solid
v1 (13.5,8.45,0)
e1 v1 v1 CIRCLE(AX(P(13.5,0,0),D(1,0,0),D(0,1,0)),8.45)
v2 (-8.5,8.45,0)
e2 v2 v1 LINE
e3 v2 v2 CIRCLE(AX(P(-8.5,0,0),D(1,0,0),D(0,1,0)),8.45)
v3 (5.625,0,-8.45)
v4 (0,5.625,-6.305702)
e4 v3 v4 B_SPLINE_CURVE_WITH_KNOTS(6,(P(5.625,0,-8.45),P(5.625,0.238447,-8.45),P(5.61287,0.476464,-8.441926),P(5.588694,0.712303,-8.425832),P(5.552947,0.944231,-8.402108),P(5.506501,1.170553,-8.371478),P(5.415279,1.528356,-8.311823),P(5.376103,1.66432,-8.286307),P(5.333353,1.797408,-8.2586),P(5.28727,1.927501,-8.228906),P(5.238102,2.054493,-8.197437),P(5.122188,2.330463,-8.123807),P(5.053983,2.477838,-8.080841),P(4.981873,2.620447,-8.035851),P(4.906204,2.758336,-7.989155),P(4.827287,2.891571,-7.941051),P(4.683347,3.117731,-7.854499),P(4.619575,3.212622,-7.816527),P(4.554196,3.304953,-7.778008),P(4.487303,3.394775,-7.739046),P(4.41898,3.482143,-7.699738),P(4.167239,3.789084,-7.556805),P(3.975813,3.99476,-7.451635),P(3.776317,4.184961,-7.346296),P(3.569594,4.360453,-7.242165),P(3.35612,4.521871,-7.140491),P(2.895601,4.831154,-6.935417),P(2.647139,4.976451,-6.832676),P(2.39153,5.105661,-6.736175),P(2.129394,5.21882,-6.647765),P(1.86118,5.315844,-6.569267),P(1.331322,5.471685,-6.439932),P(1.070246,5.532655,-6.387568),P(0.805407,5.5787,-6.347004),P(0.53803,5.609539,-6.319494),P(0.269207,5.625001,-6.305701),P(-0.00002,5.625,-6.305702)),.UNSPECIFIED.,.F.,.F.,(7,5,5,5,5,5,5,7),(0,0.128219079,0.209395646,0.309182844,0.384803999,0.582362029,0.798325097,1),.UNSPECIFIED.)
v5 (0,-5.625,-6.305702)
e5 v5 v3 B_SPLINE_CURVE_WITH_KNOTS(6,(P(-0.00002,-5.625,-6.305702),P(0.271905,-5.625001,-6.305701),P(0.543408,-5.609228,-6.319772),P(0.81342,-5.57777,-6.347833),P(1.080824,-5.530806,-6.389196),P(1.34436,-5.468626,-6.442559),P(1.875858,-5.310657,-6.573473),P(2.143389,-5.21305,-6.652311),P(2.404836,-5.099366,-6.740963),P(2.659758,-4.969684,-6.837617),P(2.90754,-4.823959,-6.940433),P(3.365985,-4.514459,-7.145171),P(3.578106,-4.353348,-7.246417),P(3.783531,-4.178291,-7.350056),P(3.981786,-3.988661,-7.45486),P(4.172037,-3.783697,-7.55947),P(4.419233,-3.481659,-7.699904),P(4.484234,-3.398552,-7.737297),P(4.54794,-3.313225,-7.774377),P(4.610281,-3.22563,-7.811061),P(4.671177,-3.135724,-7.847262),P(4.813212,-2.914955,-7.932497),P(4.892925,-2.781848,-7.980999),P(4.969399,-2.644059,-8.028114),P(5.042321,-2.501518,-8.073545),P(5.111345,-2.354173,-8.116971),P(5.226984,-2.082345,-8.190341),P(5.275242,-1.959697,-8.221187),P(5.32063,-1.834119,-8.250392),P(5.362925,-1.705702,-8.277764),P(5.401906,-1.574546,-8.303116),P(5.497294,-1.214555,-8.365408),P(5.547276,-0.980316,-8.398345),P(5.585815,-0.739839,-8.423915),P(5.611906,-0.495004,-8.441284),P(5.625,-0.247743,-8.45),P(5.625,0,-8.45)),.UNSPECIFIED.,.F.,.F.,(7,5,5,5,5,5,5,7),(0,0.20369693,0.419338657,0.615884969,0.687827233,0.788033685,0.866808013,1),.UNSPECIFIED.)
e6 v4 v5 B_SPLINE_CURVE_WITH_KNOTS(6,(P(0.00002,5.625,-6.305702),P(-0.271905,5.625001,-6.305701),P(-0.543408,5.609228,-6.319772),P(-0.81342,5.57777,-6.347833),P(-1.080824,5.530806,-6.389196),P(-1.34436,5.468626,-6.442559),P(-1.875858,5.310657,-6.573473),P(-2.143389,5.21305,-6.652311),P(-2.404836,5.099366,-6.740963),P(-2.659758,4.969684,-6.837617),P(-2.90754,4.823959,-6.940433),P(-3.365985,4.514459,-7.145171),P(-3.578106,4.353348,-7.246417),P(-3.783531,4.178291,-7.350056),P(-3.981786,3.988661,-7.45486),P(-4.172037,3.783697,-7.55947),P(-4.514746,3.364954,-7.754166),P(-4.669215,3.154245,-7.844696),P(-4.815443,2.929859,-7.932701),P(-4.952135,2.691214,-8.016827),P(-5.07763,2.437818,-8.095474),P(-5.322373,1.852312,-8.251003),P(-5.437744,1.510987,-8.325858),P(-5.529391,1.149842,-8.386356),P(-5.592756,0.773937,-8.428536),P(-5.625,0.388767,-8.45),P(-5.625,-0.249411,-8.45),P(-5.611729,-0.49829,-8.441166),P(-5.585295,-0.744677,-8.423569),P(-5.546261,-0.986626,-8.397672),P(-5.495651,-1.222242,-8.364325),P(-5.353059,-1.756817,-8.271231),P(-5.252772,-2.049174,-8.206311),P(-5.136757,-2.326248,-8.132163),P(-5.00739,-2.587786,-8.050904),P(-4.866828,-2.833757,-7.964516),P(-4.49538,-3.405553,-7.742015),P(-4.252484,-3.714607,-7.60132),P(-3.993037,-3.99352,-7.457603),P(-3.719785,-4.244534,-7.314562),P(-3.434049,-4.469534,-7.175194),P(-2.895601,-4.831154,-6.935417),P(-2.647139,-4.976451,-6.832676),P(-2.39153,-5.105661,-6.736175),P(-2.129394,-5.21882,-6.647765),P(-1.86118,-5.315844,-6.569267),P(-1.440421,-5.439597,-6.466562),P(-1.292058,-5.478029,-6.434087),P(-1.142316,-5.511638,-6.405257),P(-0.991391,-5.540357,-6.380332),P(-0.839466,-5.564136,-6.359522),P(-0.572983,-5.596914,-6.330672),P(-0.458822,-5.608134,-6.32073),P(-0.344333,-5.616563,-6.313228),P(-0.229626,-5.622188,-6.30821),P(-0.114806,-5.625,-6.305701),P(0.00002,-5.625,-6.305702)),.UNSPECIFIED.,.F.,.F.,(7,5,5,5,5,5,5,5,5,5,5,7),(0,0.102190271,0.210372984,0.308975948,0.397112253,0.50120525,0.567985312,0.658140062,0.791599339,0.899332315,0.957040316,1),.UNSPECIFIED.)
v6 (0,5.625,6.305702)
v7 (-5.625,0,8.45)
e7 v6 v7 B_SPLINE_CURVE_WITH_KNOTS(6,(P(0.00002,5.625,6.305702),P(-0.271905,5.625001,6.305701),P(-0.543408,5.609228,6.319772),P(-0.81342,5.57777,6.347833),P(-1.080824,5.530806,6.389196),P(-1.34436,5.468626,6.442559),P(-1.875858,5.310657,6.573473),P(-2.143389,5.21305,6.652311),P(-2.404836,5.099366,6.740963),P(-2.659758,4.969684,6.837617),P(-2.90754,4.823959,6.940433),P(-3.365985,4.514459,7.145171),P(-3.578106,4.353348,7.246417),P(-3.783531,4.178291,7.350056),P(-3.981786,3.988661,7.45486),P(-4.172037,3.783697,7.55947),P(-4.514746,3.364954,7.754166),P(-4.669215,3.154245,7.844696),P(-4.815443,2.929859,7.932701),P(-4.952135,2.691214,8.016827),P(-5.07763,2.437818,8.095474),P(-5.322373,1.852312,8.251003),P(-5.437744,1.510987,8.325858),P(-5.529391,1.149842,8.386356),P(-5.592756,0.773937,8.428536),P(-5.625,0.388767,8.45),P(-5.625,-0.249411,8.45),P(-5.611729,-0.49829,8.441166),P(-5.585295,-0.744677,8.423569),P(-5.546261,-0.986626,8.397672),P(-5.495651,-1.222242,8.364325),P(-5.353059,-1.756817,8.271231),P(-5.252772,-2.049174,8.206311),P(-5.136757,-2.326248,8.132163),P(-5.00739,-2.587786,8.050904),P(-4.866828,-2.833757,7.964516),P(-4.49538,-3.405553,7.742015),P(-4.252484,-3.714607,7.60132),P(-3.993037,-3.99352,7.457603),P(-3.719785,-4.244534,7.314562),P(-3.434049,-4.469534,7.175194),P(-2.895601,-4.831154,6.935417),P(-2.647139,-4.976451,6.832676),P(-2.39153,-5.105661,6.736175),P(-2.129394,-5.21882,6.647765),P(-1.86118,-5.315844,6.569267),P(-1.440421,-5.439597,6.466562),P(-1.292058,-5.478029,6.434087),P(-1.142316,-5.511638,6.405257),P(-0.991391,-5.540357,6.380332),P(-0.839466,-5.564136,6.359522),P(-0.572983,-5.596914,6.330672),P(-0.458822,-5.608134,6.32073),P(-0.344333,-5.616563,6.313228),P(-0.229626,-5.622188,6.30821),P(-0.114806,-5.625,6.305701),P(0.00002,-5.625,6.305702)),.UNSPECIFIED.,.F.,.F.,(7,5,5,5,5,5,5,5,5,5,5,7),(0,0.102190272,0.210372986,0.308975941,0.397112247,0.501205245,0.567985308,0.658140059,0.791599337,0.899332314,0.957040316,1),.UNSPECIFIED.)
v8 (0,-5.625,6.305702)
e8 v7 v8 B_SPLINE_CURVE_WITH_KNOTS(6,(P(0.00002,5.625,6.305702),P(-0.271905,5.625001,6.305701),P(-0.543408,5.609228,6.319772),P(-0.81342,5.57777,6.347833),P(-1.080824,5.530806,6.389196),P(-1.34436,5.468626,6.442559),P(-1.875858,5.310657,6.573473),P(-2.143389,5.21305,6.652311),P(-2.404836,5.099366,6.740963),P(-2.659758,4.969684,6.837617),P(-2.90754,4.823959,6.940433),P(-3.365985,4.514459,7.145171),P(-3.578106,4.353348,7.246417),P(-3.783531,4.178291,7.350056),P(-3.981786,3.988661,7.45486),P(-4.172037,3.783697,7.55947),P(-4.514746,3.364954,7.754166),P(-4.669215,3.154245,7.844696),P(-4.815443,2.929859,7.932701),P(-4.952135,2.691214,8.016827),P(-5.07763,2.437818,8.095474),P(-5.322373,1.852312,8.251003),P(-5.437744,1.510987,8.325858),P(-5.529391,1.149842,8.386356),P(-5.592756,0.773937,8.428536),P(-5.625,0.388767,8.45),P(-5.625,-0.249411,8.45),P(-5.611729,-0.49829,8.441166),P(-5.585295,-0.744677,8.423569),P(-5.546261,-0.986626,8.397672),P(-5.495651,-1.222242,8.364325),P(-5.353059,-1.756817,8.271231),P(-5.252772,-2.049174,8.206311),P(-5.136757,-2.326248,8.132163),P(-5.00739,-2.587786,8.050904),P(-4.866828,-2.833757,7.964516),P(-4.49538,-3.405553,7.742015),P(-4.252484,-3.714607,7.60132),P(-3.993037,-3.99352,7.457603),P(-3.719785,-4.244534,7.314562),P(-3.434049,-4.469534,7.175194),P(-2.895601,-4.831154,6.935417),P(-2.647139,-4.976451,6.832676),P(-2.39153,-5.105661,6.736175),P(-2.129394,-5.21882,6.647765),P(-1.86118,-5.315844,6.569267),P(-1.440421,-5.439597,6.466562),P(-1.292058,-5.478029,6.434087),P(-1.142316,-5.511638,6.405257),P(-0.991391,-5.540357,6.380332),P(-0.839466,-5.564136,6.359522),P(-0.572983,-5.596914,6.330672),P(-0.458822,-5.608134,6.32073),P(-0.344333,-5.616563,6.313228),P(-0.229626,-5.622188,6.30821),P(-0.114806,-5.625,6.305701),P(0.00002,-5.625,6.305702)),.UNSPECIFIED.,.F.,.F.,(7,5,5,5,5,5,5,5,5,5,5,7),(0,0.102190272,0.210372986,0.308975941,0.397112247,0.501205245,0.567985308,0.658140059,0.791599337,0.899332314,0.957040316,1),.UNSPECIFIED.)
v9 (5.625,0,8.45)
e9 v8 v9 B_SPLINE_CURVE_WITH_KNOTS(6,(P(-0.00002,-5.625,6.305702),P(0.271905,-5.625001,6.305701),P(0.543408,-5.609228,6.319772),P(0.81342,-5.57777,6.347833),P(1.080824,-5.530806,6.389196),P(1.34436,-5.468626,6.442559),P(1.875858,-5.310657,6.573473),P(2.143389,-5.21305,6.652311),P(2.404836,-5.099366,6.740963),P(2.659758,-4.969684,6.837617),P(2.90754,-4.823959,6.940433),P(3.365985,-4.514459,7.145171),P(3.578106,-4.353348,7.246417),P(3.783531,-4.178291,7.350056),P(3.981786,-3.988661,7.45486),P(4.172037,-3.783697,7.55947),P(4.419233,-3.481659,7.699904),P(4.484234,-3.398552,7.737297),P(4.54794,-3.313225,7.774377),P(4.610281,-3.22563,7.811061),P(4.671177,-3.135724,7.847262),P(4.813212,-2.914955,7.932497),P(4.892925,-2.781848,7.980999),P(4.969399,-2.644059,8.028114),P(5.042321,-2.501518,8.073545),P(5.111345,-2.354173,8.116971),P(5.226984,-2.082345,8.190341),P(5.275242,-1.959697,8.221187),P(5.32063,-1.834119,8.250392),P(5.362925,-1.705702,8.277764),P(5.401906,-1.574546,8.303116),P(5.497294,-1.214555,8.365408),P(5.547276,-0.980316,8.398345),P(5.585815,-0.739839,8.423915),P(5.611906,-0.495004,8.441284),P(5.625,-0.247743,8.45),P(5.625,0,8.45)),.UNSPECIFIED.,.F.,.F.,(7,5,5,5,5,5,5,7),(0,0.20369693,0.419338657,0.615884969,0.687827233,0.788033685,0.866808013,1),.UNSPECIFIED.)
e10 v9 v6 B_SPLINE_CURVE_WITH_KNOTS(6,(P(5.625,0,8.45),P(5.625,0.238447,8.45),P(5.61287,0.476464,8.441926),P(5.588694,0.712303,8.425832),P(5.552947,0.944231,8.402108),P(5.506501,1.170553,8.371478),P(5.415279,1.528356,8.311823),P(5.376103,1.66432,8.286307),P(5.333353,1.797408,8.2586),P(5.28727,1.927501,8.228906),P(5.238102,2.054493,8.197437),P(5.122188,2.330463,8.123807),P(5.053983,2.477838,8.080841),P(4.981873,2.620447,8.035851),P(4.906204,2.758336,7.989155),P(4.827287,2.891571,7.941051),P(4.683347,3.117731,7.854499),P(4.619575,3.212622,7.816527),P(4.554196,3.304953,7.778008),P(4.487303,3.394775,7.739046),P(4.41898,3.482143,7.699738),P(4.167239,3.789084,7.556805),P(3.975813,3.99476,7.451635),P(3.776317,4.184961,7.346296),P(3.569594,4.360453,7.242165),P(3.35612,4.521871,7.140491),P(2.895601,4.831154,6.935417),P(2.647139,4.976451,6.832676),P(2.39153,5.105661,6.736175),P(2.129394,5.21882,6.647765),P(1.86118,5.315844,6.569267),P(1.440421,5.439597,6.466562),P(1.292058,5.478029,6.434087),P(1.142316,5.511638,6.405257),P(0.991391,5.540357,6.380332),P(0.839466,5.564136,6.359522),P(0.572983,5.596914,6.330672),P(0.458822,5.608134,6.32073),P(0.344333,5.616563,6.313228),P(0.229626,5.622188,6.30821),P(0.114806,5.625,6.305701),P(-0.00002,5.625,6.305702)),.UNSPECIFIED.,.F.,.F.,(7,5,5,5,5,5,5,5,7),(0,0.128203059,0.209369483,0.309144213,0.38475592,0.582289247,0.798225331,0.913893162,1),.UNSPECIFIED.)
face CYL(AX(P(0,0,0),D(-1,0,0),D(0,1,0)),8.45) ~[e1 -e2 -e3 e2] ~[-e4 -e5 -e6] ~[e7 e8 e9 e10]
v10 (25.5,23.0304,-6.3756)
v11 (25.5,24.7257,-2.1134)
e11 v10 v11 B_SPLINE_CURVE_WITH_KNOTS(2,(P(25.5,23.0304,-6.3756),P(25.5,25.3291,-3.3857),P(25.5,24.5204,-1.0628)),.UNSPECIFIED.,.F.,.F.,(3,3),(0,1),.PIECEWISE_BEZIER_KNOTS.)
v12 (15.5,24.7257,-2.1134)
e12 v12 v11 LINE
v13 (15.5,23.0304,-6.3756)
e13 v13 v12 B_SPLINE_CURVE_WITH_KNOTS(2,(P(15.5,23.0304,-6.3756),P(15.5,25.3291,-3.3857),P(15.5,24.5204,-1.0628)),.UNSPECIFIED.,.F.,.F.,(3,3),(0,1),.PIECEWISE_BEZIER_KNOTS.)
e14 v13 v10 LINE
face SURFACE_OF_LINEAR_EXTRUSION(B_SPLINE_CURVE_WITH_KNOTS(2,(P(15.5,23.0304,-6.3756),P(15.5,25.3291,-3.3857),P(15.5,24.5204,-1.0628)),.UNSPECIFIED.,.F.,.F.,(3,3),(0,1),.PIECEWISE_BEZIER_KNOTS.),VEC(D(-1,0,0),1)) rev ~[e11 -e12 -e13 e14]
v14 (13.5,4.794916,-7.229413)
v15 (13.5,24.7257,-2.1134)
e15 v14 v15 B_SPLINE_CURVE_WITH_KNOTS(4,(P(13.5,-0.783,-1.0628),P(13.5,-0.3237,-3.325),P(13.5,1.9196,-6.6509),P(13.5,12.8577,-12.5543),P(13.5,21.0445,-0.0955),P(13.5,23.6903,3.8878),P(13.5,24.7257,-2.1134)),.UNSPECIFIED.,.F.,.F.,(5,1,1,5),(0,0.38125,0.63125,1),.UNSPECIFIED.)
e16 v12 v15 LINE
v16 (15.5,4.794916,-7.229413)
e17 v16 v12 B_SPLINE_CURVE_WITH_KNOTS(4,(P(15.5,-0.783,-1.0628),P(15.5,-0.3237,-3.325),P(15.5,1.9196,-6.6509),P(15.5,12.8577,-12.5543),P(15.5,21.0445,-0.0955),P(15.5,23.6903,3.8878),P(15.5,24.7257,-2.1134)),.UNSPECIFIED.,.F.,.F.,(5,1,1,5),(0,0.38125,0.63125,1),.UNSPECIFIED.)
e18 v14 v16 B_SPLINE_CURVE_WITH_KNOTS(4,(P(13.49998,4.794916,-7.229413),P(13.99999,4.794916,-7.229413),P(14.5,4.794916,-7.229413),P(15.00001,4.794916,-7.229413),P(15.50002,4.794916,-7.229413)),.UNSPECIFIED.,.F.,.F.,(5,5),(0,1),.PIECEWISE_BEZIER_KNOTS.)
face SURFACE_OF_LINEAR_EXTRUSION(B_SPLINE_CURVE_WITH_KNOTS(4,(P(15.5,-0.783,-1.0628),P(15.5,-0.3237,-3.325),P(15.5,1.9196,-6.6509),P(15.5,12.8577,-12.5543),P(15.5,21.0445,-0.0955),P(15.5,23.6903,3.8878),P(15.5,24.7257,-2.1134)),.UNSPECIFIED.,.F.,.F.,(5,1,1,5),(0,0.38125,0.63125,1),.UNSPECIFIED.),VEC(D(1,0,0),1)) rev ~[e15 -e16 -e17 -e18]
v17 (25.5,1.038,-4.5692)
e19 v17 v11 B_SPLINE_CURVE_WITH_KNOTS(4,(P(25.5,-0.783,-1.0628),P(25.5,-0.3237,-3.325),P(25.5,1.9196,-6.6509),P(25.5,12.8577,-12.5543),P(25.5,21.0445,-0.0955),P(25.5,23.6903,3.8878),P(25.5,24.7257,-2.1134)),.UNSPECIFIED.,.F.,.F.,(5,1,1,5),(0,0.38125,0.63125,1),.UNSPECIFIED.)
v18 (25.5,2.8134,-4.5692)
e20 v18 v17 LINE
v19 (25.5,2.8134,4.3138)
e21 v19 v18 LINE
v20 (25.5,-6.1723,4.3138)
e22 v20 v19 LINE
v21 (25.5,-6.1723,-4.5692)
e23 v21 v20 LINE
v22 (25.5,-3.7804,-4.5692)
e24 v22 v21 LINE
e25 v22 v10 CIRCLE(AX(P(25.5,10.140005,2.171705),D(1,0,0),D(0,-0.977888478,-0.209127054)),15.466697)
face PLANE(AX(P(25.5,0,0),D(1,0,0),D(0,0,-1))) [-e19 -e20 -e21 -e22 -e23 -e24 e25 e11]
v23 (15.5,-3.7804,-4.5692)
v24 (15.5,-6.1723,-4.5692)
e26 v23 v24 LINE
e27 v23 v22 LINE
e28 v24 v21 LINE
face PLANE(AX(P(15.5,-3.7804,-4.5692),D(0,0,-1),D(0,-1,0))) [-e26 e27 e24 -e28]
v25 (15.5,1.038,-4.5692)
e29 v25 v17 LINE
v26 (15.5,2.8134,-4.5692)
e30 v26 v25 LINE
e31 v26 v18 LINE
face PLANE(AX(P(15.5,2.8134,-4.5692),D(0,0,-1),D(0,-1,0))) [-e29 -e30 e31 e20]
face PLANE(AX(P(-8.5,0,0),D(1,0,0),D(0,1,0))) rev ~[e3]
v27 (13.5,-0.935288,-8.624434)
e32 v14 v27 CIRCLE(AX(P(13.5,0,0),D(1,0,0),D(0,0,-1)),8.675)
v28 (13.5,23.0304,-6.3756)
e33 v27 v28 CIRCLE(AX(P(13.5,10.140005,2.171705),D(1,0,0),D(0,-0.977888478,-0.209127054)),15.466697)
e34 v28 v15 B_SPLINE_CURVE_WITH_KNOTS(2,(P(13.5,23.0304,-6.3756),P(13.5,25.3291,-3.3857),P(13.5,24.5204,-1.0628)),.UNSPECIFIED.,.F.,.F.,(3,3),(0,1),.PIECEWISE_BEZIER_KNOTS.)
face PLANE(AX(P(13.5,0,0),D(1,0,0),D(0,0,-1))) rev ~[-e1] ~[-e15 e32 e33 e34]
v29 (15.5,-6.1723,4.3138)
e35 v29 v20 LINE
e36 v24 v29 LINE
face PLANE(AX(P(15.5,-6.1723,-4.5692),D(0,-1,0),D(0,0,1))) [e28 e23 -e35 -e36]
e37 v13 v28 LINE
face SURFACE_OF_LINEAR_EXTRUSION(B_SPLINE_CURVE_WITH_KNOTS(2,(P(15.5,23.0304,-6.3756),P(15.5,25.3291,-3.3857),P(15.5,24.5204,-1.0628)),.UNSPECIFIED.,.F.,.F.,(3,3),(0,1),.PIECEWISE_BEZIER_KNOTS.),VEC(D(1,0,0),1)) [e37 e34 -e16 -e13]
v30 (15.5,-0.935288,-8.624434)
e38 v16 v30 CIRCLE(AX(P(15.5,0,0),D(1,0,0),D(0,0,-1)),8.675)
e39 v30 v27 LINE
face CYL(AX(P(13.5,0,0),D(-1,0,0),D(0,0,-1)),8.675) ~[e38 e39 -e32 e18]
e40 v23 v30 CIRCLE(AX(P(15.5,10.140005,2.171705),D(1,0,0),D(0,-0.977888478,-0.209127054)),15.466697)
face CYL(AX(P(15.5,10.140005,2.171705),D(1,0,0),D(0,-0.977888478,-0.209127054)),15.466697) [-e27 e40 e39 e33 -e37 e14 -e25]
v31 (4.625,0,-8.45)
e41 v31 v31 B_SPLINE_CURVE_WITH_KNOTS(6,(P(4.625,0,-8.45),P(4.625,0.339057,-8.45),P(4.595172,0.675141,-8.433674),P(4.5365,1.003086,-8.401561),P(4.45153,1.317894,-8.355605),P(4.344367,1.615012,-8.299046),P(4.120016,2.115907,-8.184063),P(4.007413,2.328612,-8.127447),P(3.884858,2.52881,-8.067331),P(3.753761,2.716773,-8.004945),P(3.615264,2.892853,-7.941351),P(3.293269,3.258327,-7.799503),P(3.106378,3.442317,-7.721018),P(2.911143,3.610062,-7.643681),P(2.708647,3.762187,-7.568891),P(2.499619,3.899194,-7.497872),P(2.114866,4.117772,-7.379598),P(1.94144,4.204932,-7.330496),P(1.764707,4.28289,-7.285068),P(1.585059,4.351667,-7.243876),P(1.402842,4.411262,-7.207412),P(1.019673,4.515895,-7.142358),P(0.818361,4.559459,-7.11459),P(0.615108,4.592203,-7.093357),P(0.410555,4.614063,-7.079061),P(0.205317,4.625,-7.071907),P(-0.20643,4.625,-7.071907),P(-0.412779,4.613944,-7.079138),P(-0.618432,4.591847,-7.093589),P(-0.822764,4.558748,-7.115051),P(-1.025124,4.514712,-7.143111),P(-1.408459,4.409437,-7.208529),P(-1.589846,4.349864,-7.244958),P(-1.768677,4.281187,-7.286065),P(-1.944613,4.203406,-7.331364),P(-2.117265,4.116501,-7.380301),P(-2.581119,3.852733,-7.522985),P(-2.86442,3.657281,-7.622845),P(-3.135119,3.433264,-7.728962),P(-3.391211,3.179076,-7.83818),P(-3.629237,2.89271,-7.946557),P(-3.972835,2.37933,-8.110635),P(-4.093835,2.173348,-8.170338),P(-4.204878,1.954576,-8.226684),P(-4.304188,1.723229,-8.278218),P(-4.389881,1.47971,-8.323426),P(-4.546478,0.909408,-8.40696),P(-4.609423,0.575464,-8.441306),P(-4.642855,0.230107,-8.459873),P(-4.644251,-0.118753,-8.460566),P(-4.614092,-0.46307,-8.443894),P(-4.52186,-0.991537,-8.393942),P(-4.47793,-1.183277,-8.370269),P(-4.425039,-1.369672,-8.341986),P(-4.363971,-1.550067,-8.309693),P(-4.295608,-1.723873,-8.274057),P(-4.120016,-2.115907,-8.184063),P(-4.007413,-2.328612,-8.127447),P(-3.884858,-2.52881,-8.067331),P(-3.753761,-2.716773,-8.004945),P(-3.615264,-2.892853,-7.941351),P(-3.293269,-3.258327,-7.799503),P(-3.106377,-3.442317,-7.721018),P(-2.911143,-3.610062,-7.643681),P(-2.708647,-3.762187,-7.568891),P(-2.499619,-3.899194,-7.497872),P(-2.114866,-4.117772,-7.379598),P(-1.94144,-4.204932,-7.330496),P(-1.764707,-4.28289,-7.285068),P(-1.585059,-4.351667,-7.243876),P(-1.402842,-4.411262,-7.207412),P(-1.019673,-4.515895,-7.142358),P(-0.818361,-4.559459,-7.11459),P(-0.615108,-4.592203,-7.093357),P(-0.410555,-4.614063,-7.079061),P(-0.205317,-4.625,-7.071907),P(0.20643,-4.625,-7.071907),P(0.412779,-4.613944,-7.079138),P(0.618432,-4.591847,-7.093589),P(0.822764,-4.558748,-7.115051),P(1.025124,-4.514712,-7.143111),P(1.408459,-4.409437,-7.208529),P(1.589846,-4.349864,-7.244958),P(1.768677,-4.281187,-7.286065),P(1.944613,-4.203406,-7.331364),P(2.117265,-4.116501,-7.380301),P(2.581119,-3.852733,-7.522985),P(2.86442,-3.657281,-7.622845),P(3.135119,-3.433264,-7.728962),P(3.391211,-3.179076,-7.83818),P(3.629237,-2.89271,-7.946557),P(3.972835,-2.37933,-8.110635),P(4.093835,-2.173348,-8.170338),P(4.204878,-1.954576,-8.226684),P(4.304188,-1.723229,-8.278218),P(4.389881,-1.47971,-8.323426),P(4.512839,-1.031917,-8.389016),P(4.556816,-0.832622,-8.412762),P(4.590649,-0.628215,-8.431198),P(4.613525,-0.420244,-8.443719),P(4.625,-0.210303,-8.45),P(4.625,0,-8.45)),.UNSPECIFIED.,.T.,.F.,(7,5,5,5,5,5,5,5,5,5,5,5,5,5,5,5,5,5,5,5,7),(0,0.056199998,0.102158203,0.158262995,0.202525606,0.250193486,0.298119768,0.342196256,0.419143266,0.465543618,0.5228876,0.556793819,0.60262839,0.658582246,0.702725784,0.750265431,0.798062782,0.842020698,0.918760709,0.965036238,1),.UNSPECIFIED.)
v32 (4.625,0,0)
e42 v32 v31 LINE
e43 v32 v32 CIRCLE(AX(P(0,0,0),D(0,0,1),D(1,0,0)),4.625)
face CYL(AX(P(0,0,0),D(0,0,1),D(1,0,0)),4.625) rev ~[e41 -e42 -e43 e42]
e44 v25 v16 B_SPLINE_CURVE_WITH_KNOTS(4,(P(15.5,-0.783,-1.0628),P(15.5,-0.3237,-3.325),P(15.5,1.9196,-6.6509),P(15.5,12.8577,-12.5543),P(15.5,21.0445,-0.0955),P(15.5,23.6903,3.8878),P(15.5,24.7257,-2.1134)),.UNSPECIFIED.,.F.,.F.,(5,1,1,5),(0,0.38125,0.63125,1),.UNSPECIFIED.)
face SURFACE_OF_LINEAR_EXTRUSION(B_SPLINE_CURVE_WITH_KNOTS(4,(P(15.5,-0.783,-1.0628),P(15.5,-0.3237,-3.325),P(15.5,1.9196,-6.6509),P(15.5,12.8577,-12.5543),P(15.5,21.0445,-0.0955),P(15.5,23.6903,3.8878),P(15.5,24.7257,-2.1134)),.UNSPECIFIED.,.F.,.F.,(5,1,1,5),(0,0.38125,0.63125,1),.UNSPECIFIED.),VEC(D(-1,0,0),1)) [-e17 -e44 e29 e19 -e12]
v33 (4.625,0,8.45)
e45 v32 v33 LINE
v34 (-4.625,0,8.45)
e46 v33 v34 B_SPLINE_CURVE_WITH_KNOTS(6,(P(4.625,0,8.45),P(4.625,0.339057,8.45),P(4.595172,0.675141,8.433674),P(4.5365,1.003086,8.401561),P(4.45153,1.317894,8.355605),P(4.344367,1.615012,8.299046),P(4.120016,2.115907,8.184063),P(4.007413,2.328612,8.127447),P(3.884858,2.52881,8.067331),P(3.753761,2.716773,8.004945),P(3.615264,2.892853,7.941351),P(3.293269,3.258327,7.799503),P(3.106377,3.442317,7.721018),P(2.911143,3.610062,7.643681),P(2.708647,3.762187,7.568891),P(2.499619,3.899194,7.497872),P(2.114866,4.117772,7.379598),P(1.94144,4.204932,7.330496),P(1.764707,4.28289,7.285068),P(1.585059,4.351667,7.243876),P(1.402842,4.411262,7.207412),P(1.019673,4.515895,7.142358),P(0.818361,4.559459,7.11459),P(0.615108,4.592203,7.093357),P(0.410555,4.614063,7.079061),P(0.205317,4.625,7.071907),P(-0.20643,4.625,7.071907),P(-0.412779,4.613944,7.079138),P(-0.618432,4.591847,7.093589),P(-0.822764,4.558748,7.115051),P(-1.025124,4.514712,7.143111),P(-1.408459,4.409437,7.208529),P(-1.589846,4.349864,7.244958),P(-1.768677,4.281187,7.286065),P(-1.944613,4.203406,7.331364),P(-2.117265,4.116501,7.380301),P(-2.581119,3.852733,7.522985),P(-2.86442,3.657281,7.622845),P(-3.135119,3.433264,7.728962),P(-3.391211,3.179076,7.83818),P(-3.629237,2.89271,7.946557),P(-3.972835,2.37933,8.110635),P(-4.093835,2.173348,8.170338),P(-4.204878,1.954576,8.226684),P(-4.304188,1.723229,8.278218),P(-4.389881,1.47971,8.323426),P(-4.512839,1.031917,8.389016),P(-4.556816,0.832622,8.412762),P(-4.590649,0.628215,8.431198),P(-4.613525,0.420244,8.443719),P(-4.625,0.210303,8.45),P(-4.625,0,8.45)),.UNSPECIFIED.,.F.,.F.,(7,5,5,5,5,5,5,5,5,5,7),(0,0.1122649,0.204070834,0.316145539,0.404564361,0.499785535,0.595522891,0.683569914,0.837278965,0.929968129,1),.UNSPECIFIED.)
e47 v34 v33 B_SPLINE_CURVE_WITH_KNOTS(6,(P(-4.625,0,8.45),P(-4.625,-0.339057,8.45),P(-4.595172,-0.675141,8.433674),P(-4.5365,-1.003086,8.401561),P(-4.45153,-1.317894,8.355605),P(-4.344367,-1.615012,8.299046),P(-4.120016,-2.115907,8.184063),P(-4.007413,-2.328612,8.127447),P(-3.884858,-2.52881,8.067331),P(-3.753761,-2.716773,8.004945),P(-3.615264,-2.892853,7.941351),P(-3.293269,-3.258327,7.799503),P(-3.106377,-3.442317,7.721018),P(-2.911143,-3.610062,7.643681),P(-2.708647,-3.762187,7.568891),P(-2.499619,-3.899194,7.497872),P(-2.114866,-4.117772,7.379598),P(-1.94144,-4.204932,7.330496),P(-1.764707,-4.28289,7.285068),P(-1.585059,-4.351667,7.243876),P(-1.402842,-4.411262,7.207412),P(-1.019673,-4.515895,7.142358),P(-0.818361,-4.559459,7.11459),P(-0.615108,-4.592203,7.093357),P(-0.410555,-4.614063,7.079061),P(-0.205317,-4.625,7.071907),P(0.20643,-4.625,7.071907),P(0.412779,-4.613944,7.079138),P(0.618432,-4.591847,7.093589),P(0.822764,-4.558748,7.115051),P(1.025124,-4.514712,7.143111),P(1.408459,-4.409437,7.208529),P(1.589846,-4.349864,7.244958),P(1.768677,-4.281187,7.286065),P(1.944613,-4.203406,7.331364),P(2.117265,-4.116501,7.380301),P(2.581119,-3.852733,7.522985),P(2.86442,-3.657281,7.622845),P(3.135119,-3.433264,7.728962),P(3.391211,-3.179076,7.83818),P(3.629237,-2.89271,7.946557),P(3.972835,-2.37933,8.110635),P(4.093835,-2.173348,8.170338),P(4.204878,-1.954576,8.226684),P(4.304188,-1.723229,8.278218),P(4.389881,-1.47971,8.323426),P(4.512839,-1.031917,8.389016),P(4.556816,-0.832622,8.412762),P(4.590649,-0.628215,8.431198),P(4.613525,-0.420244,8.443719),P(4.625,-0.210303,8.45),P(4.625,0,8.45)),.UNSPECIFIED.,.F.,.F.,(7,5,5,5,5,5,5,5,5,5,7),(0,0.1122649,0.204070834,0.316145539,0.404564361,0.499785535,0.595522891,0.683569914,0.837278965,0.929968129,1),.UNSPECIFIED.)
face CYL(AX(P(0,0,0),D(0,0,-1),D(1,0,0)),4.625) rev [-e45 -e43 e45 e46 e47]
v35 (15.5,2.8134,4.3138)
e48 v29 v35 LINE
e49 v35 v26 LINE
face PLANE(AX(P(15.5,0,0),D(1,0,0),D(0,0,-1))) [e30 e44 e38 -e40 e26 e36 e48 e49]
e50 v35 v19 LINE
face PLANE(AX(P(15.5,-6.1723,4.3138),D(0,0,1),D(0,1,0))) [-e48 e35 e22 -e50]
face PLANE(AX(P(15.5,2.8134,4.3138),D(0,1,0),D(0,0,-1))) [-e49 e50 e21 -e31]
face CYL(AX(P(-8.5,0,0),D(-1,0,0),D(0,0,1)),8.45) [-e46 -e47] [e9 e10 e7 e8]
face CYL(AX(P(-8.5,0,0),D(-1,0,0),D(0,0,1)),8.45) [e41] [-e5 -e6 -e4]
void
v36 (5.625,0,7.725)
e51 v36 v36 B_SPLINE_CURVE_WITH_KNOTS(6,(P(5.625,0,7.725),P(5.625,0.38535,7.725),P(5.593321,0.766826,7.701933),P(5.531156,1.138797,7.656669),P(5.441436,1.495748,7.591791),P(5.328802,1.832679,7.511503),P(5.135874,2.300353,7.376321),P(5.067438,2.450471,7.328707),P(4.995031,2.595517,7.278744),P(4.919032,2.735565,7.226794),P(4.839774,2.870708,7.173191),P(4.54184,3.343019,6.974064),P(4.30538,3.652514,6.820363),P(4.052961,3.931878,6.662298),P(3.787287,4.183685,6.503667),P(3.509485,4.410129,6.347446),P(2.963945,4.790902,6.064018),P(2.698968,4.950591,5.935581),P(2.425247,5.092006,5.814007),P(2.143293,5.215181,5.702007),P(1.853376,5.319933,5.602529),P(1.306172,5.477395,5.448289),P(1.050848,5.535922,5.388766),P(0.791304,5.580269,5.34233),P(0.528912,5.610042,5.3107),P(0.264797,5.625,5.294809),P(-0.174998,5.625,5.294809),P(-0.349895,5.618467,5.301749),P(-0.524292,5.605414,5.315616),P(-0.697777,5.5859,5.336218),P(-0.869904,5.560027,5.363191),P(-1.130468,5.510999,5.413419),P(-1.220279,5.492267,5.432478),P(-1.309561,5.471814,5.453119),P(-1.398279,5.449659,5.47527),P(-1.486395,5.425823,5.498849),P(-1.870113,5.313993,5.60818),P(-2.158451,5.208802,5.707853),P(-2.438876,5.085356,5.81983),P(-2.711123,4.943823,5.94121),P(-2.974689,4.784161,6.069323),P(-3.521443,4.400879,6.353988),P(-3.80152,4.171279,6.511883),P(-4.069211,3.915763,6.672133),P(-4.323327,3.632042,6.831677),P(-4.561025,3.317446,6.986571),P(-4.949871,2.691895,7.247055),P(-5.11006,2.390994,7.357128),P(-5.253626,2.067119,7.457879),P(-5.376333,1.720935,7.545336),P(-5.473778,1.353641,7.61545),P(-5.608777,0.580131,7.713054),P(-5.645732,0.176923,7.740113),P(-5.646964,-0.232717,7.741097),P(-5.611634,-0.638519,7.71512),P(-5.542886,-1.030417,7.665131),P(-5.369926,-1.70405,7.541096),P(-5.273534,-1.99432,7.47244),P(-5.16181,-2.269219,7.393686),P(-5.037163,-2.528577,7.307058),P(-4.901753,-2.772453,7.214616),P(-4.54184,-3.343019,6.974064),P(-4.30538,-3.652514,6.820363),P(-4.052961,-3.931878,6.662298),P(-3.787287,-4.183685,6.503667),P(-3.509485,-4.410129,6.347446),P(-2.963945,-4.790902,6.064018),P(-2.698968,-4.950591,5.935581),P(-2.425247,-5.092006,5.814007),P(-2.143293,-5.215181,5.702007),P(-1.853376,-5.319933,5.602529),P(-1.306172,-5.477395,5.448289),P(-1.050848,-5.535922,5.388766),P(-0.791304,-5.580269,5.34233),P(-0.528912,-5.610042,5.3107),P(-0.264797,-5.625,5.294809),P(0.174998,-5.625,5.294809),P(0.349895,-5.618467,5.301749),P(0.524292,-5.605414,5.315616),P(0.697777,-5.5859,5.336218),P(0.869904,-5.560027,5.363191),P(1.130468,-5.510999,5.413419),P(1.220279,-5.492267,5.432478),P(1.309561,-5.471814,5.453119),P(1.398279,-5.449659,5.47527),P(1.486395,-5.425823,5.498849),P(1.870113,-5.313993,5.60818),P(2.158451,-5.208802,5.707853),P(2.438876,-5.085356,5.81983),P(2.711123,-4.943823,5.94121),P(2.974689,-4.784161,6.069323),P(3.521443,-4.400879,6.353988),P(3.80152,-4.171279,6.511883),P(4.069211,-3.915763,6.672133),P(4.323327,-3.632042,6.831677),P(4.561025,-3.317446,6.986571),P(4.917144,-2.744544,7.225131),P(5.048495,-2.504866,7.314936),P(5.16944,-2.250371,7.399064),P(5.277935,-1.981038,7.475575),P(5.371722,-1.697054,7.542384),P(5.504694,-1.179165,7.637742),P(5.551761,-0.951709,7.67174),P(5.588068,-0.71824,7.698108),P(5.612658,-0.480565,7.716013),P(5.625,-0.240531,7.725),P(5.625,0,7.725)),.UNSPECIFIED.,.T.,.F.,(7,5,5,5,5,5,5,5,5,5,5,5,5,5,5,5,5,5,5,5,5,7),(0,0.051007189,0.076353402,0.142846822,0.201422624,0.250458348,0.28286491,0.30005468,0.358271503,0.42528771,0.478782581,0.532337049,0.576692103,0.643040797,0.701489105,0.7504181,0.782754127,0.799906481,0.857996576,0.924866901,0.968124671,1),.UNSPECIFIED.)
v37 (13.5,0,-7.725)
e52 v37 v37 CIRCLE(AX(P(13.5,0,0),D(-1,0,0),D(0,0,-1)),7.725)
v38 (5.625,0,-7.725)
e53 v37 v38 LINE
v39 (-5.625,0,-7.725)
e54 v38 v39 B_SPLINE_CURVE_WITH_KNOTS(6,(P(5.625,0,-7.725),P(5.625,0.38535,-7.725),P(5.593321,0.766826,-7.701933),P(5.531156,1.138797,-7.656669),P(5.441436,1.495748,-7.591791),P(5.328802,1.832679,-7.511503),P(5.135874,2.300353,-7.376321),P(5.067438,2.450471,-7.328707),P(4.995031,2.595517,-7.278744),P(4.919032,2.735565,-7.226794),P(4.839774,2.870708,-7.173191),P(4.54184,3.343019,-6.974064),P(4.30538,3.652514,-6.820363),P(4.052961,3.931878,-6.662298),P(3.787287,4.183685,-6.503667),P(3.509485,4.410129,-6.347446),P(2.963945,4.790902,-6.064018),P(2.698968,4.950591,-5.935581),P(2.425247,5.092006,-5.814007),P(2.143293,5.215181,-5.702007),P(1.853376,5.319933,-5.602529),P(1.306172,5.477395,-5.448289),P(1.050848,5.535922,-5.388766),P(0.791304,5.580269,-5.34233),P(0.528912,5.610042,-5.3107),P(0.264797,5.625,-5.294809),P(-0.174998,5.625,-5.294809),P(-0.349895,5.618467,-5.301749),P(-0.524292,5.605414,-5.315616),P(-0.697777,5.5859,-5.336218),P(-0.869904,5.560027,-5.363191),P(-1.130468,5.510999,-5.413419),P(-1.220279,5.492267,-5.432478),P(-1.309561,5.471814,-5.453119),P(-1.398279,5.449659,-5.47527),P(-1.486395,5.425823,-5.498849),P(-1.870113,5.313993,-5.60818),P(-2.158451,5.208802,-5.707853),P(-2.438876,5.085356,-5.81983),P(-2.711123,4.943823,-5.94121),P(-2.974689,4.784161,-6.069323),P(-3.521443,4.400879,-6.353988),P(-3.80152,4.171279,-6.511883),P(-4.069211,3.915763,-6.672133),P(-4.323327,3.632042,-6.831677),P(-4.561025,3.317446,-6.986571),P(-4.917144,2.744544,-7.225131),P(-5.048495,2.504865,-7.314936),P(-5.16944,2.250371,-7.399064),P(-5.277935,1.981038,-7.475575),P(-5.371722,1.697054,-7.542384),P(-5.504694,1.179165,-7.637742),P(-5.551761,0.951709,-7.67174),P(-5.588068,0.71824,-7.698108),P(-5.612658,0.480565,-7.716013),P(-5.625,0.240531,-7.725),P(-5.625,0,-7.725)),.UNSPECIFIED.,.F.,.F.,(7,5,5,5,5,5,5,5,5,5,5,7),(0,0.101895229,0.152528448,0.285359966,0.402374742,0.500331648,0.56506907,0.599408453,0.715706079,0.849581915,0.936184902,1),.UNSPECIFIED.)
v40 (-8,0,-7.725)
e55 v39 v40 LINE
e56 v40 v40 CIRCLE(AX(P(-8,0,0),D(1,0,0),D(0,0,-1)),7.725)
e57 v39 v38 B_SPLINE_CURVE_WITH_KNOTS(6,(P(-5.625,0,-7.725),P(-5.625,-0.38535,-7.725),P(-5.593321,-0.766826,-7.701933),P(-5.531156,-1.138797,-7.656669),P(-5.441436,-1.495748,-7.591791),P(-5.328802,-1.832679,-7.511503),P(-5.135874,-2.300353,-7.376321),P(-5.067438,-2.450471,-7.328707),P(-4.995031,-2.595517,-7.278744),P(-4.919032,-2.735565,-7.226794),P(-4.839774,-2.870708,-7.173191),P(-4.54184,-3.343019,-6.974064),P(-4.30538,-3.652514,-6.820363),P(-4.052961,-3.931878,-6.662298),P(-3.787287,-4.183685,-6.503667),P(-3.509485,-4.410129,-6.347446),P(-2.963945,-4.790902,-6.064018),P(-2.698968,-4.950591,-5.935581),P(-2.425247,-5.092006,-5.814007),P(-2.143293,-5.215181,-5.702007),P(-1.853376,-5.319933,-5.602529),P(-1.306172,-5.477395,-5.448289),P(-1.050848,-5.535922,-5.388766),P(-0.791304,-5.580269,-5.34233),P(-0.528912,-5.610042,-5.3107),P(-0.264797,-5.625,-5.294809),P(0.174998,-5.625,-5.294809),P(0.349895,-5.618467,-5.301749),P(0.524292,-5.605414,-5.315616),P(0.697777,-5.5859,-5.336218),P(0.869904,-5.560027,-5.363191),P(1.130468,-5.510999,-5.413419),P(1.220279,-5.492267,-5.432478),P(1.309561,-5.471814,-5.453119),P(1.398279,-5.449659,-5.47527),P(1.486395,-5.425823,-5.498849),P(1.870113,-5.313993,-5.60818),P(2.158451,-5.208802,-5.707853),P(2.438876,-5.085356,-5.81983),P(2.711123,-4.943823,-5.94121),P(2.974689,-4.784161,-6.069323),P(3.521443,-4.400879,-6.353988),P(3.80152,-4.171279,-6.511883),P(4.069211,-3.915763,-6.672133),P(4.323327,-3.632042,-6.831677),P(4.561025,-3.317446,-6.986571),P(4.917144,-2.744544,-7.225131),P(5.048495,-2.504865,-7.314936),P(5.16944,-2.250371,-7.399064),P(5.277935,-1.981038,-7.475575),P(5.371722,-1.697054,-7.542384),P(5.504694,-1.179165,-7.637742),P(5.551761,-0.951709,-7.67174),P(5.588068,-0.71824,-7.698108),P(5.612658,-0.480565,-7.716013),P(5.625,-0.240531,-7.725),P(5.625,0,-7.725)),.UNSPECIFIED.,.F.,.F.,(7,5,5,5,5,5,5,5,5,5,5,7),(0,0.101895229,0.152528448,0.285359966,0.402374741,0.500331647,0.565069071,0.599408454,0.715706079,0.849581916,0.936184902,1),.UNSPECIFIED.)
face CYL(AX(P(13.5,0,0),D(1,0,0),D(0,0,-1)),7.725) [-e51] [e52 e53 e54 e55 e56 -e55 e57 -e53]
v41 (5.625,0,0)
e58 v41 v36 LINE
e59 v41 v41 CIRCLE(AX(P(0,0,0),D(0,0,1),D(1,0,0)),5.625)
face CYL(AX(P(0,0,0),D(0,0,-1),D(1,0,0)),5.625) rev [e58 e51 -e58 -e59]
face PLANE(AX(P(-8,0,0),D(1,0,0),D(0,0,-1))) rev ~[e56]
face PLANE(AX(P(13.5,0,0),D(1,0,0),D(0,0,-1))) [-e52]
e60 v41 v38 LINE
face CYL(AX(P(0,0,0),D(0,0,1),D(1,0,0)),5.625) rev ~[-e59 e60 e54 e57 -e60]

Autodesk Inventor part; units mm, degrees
ref_plane "YZ Plane" through (0, 0, 0) normal (1, 0, 0) x (0, 1, 0)
ref_plane "XZ Plane" through (0, 0, 0) normal (0, 1, 0) x (-1, 0, 0)
ref_plane "XY Plane" through (0, 0, 0) normal (0, 0, 1) x (1, 0, 0)
sketch "Sketch1" plane through (0, 0, 0) normal (1, 0, 0) x (0, 1, 0)
  circle A0 centre (0, 0) radius 8.45
  dimension "d0" = 16.9
extrude "Extrusion1" add sketch "Sketch1" along normal blind 13.5 and the other way blind 8.5
sketch "Sketch2" plane through (13.5, 0, 0) normal (1, 0, 0) x (0, 0, -1)
  circle A0 centre (0, 0) radius 7.725
  circle A1 centre (0, 0) radius 9.725
  dimension "d3" = 2
  dimension "d4" = 19.45
extrude "Extrusion2" cut sketch "Sketch2" against normal blind 21.5 contours A0
sketch "Sketch3" plane through (0, 0, 0) normal (0, 0, 1) x (1, 0, 0)
  circle A0 centre (0, 0) radius 5.625
  dimension "d7" = 11.25
extrude "Extrusion3" add sketch "Sketch3" along normal mid plane 18
sketch "Sketch4" plane through (0, 0, 0) normal (0, 0, 1) x (1, 0, 0)
  circle A0 centre (0, 0) radius 4.625
  dimension "d10" = 9.25
extrude "Extrusion5" cut sketch "Sketch4" along normal mid plane 100
sketch "Sketch5" plane through (13.5, 0, 0) normal (1, 0, 0) x (0, 0, -1)
  circle A0 centre (0, 0) radius 8.675
  dimension "d15" = 17.35
extrude "Extrusion6" add sketch "Sketch5" along normal blind 2
sketch "Sketch6" plane through (15.5, 0, 0) normal (1, 0, 0) x (0, 0, -1)
  arc A0 (1.0628, -4.9847) -> (6.3756, 23.0304) centre (-2.1717, 10.14) ccw
  spline S0 degree 4 poles (1.0628, -0.783) (3.325, -0.3237) (6.6509, 1.9196) (12.5543, 12.8577) (0.0955, 21.0445) (-3.8878, 23.6903) (2.1134, 24.7257) knots 0 0 0 0 0 0.38125 0.63125 1 1 1 1 1
  line L0 (-1.8785, -1.3802) -> (4.0041, -0.1858) construction
  arc A1 (-1.2523, -0.8951) -> (3.2382, 0.0167) centre (-0.4606, 6.7196) ccw construction
  spline S1 degree 2 poles (6.3756, 23.0304) (3.3857, 25.3291) (1.0628, 24.5204) knots 0 0 0 1 1 1
  line L1 (-6.8176, 23.1848) -> (11.0445, 26.2665) construction
  arc A2 (9.1477, 24.9445) -> (-4.5875, 22.5748) centre (6.4085, -0.169) ccw construction
  line L2 (-4.3138, 2.8134) -> (4.5692, 2.8134)
  line L3 (4.5692, -6.1723) -> (-4.3138, -6.1723)
  line L4 (-4.3138, -6.1723) -> (-4.3138, 2.8134)
  line L5 (4.5692, 2.8134) -> (4.5692, 1.038)
  line L6 (4.5692, -3.7804) -> (4.5692, -6.1723)
  point P0 (0, 0)
  point P1 (-0.6365, 21.8121)
  point P2 (1.0628, -0.783)
  point P3 (3.2364, 24.6304)
  point P4 (2.1134, 24.7257)
  point P5 (2.1133, 24.7254)
  point P6 (1.0633, 24.5166)
  dimension "d10" = 9.25
extrude "Extrusion7" add sketch "Sketch6" along normal blind 10 and the other way blind 2
sketch "Sketch7" plane through (-8.5, 0, 0) normal (-1, 0, 0) x (0, 0, 1)
  circle A0 centre (0, 0) radius 8.45
  circle A1 centre (0, 0) radius 11.1999
  dimension "d23" = 16.9
extrude "Extrusion8" cut sketch "Sketch7" against normal blind 17.75
properties part number "valve insert-mod"
